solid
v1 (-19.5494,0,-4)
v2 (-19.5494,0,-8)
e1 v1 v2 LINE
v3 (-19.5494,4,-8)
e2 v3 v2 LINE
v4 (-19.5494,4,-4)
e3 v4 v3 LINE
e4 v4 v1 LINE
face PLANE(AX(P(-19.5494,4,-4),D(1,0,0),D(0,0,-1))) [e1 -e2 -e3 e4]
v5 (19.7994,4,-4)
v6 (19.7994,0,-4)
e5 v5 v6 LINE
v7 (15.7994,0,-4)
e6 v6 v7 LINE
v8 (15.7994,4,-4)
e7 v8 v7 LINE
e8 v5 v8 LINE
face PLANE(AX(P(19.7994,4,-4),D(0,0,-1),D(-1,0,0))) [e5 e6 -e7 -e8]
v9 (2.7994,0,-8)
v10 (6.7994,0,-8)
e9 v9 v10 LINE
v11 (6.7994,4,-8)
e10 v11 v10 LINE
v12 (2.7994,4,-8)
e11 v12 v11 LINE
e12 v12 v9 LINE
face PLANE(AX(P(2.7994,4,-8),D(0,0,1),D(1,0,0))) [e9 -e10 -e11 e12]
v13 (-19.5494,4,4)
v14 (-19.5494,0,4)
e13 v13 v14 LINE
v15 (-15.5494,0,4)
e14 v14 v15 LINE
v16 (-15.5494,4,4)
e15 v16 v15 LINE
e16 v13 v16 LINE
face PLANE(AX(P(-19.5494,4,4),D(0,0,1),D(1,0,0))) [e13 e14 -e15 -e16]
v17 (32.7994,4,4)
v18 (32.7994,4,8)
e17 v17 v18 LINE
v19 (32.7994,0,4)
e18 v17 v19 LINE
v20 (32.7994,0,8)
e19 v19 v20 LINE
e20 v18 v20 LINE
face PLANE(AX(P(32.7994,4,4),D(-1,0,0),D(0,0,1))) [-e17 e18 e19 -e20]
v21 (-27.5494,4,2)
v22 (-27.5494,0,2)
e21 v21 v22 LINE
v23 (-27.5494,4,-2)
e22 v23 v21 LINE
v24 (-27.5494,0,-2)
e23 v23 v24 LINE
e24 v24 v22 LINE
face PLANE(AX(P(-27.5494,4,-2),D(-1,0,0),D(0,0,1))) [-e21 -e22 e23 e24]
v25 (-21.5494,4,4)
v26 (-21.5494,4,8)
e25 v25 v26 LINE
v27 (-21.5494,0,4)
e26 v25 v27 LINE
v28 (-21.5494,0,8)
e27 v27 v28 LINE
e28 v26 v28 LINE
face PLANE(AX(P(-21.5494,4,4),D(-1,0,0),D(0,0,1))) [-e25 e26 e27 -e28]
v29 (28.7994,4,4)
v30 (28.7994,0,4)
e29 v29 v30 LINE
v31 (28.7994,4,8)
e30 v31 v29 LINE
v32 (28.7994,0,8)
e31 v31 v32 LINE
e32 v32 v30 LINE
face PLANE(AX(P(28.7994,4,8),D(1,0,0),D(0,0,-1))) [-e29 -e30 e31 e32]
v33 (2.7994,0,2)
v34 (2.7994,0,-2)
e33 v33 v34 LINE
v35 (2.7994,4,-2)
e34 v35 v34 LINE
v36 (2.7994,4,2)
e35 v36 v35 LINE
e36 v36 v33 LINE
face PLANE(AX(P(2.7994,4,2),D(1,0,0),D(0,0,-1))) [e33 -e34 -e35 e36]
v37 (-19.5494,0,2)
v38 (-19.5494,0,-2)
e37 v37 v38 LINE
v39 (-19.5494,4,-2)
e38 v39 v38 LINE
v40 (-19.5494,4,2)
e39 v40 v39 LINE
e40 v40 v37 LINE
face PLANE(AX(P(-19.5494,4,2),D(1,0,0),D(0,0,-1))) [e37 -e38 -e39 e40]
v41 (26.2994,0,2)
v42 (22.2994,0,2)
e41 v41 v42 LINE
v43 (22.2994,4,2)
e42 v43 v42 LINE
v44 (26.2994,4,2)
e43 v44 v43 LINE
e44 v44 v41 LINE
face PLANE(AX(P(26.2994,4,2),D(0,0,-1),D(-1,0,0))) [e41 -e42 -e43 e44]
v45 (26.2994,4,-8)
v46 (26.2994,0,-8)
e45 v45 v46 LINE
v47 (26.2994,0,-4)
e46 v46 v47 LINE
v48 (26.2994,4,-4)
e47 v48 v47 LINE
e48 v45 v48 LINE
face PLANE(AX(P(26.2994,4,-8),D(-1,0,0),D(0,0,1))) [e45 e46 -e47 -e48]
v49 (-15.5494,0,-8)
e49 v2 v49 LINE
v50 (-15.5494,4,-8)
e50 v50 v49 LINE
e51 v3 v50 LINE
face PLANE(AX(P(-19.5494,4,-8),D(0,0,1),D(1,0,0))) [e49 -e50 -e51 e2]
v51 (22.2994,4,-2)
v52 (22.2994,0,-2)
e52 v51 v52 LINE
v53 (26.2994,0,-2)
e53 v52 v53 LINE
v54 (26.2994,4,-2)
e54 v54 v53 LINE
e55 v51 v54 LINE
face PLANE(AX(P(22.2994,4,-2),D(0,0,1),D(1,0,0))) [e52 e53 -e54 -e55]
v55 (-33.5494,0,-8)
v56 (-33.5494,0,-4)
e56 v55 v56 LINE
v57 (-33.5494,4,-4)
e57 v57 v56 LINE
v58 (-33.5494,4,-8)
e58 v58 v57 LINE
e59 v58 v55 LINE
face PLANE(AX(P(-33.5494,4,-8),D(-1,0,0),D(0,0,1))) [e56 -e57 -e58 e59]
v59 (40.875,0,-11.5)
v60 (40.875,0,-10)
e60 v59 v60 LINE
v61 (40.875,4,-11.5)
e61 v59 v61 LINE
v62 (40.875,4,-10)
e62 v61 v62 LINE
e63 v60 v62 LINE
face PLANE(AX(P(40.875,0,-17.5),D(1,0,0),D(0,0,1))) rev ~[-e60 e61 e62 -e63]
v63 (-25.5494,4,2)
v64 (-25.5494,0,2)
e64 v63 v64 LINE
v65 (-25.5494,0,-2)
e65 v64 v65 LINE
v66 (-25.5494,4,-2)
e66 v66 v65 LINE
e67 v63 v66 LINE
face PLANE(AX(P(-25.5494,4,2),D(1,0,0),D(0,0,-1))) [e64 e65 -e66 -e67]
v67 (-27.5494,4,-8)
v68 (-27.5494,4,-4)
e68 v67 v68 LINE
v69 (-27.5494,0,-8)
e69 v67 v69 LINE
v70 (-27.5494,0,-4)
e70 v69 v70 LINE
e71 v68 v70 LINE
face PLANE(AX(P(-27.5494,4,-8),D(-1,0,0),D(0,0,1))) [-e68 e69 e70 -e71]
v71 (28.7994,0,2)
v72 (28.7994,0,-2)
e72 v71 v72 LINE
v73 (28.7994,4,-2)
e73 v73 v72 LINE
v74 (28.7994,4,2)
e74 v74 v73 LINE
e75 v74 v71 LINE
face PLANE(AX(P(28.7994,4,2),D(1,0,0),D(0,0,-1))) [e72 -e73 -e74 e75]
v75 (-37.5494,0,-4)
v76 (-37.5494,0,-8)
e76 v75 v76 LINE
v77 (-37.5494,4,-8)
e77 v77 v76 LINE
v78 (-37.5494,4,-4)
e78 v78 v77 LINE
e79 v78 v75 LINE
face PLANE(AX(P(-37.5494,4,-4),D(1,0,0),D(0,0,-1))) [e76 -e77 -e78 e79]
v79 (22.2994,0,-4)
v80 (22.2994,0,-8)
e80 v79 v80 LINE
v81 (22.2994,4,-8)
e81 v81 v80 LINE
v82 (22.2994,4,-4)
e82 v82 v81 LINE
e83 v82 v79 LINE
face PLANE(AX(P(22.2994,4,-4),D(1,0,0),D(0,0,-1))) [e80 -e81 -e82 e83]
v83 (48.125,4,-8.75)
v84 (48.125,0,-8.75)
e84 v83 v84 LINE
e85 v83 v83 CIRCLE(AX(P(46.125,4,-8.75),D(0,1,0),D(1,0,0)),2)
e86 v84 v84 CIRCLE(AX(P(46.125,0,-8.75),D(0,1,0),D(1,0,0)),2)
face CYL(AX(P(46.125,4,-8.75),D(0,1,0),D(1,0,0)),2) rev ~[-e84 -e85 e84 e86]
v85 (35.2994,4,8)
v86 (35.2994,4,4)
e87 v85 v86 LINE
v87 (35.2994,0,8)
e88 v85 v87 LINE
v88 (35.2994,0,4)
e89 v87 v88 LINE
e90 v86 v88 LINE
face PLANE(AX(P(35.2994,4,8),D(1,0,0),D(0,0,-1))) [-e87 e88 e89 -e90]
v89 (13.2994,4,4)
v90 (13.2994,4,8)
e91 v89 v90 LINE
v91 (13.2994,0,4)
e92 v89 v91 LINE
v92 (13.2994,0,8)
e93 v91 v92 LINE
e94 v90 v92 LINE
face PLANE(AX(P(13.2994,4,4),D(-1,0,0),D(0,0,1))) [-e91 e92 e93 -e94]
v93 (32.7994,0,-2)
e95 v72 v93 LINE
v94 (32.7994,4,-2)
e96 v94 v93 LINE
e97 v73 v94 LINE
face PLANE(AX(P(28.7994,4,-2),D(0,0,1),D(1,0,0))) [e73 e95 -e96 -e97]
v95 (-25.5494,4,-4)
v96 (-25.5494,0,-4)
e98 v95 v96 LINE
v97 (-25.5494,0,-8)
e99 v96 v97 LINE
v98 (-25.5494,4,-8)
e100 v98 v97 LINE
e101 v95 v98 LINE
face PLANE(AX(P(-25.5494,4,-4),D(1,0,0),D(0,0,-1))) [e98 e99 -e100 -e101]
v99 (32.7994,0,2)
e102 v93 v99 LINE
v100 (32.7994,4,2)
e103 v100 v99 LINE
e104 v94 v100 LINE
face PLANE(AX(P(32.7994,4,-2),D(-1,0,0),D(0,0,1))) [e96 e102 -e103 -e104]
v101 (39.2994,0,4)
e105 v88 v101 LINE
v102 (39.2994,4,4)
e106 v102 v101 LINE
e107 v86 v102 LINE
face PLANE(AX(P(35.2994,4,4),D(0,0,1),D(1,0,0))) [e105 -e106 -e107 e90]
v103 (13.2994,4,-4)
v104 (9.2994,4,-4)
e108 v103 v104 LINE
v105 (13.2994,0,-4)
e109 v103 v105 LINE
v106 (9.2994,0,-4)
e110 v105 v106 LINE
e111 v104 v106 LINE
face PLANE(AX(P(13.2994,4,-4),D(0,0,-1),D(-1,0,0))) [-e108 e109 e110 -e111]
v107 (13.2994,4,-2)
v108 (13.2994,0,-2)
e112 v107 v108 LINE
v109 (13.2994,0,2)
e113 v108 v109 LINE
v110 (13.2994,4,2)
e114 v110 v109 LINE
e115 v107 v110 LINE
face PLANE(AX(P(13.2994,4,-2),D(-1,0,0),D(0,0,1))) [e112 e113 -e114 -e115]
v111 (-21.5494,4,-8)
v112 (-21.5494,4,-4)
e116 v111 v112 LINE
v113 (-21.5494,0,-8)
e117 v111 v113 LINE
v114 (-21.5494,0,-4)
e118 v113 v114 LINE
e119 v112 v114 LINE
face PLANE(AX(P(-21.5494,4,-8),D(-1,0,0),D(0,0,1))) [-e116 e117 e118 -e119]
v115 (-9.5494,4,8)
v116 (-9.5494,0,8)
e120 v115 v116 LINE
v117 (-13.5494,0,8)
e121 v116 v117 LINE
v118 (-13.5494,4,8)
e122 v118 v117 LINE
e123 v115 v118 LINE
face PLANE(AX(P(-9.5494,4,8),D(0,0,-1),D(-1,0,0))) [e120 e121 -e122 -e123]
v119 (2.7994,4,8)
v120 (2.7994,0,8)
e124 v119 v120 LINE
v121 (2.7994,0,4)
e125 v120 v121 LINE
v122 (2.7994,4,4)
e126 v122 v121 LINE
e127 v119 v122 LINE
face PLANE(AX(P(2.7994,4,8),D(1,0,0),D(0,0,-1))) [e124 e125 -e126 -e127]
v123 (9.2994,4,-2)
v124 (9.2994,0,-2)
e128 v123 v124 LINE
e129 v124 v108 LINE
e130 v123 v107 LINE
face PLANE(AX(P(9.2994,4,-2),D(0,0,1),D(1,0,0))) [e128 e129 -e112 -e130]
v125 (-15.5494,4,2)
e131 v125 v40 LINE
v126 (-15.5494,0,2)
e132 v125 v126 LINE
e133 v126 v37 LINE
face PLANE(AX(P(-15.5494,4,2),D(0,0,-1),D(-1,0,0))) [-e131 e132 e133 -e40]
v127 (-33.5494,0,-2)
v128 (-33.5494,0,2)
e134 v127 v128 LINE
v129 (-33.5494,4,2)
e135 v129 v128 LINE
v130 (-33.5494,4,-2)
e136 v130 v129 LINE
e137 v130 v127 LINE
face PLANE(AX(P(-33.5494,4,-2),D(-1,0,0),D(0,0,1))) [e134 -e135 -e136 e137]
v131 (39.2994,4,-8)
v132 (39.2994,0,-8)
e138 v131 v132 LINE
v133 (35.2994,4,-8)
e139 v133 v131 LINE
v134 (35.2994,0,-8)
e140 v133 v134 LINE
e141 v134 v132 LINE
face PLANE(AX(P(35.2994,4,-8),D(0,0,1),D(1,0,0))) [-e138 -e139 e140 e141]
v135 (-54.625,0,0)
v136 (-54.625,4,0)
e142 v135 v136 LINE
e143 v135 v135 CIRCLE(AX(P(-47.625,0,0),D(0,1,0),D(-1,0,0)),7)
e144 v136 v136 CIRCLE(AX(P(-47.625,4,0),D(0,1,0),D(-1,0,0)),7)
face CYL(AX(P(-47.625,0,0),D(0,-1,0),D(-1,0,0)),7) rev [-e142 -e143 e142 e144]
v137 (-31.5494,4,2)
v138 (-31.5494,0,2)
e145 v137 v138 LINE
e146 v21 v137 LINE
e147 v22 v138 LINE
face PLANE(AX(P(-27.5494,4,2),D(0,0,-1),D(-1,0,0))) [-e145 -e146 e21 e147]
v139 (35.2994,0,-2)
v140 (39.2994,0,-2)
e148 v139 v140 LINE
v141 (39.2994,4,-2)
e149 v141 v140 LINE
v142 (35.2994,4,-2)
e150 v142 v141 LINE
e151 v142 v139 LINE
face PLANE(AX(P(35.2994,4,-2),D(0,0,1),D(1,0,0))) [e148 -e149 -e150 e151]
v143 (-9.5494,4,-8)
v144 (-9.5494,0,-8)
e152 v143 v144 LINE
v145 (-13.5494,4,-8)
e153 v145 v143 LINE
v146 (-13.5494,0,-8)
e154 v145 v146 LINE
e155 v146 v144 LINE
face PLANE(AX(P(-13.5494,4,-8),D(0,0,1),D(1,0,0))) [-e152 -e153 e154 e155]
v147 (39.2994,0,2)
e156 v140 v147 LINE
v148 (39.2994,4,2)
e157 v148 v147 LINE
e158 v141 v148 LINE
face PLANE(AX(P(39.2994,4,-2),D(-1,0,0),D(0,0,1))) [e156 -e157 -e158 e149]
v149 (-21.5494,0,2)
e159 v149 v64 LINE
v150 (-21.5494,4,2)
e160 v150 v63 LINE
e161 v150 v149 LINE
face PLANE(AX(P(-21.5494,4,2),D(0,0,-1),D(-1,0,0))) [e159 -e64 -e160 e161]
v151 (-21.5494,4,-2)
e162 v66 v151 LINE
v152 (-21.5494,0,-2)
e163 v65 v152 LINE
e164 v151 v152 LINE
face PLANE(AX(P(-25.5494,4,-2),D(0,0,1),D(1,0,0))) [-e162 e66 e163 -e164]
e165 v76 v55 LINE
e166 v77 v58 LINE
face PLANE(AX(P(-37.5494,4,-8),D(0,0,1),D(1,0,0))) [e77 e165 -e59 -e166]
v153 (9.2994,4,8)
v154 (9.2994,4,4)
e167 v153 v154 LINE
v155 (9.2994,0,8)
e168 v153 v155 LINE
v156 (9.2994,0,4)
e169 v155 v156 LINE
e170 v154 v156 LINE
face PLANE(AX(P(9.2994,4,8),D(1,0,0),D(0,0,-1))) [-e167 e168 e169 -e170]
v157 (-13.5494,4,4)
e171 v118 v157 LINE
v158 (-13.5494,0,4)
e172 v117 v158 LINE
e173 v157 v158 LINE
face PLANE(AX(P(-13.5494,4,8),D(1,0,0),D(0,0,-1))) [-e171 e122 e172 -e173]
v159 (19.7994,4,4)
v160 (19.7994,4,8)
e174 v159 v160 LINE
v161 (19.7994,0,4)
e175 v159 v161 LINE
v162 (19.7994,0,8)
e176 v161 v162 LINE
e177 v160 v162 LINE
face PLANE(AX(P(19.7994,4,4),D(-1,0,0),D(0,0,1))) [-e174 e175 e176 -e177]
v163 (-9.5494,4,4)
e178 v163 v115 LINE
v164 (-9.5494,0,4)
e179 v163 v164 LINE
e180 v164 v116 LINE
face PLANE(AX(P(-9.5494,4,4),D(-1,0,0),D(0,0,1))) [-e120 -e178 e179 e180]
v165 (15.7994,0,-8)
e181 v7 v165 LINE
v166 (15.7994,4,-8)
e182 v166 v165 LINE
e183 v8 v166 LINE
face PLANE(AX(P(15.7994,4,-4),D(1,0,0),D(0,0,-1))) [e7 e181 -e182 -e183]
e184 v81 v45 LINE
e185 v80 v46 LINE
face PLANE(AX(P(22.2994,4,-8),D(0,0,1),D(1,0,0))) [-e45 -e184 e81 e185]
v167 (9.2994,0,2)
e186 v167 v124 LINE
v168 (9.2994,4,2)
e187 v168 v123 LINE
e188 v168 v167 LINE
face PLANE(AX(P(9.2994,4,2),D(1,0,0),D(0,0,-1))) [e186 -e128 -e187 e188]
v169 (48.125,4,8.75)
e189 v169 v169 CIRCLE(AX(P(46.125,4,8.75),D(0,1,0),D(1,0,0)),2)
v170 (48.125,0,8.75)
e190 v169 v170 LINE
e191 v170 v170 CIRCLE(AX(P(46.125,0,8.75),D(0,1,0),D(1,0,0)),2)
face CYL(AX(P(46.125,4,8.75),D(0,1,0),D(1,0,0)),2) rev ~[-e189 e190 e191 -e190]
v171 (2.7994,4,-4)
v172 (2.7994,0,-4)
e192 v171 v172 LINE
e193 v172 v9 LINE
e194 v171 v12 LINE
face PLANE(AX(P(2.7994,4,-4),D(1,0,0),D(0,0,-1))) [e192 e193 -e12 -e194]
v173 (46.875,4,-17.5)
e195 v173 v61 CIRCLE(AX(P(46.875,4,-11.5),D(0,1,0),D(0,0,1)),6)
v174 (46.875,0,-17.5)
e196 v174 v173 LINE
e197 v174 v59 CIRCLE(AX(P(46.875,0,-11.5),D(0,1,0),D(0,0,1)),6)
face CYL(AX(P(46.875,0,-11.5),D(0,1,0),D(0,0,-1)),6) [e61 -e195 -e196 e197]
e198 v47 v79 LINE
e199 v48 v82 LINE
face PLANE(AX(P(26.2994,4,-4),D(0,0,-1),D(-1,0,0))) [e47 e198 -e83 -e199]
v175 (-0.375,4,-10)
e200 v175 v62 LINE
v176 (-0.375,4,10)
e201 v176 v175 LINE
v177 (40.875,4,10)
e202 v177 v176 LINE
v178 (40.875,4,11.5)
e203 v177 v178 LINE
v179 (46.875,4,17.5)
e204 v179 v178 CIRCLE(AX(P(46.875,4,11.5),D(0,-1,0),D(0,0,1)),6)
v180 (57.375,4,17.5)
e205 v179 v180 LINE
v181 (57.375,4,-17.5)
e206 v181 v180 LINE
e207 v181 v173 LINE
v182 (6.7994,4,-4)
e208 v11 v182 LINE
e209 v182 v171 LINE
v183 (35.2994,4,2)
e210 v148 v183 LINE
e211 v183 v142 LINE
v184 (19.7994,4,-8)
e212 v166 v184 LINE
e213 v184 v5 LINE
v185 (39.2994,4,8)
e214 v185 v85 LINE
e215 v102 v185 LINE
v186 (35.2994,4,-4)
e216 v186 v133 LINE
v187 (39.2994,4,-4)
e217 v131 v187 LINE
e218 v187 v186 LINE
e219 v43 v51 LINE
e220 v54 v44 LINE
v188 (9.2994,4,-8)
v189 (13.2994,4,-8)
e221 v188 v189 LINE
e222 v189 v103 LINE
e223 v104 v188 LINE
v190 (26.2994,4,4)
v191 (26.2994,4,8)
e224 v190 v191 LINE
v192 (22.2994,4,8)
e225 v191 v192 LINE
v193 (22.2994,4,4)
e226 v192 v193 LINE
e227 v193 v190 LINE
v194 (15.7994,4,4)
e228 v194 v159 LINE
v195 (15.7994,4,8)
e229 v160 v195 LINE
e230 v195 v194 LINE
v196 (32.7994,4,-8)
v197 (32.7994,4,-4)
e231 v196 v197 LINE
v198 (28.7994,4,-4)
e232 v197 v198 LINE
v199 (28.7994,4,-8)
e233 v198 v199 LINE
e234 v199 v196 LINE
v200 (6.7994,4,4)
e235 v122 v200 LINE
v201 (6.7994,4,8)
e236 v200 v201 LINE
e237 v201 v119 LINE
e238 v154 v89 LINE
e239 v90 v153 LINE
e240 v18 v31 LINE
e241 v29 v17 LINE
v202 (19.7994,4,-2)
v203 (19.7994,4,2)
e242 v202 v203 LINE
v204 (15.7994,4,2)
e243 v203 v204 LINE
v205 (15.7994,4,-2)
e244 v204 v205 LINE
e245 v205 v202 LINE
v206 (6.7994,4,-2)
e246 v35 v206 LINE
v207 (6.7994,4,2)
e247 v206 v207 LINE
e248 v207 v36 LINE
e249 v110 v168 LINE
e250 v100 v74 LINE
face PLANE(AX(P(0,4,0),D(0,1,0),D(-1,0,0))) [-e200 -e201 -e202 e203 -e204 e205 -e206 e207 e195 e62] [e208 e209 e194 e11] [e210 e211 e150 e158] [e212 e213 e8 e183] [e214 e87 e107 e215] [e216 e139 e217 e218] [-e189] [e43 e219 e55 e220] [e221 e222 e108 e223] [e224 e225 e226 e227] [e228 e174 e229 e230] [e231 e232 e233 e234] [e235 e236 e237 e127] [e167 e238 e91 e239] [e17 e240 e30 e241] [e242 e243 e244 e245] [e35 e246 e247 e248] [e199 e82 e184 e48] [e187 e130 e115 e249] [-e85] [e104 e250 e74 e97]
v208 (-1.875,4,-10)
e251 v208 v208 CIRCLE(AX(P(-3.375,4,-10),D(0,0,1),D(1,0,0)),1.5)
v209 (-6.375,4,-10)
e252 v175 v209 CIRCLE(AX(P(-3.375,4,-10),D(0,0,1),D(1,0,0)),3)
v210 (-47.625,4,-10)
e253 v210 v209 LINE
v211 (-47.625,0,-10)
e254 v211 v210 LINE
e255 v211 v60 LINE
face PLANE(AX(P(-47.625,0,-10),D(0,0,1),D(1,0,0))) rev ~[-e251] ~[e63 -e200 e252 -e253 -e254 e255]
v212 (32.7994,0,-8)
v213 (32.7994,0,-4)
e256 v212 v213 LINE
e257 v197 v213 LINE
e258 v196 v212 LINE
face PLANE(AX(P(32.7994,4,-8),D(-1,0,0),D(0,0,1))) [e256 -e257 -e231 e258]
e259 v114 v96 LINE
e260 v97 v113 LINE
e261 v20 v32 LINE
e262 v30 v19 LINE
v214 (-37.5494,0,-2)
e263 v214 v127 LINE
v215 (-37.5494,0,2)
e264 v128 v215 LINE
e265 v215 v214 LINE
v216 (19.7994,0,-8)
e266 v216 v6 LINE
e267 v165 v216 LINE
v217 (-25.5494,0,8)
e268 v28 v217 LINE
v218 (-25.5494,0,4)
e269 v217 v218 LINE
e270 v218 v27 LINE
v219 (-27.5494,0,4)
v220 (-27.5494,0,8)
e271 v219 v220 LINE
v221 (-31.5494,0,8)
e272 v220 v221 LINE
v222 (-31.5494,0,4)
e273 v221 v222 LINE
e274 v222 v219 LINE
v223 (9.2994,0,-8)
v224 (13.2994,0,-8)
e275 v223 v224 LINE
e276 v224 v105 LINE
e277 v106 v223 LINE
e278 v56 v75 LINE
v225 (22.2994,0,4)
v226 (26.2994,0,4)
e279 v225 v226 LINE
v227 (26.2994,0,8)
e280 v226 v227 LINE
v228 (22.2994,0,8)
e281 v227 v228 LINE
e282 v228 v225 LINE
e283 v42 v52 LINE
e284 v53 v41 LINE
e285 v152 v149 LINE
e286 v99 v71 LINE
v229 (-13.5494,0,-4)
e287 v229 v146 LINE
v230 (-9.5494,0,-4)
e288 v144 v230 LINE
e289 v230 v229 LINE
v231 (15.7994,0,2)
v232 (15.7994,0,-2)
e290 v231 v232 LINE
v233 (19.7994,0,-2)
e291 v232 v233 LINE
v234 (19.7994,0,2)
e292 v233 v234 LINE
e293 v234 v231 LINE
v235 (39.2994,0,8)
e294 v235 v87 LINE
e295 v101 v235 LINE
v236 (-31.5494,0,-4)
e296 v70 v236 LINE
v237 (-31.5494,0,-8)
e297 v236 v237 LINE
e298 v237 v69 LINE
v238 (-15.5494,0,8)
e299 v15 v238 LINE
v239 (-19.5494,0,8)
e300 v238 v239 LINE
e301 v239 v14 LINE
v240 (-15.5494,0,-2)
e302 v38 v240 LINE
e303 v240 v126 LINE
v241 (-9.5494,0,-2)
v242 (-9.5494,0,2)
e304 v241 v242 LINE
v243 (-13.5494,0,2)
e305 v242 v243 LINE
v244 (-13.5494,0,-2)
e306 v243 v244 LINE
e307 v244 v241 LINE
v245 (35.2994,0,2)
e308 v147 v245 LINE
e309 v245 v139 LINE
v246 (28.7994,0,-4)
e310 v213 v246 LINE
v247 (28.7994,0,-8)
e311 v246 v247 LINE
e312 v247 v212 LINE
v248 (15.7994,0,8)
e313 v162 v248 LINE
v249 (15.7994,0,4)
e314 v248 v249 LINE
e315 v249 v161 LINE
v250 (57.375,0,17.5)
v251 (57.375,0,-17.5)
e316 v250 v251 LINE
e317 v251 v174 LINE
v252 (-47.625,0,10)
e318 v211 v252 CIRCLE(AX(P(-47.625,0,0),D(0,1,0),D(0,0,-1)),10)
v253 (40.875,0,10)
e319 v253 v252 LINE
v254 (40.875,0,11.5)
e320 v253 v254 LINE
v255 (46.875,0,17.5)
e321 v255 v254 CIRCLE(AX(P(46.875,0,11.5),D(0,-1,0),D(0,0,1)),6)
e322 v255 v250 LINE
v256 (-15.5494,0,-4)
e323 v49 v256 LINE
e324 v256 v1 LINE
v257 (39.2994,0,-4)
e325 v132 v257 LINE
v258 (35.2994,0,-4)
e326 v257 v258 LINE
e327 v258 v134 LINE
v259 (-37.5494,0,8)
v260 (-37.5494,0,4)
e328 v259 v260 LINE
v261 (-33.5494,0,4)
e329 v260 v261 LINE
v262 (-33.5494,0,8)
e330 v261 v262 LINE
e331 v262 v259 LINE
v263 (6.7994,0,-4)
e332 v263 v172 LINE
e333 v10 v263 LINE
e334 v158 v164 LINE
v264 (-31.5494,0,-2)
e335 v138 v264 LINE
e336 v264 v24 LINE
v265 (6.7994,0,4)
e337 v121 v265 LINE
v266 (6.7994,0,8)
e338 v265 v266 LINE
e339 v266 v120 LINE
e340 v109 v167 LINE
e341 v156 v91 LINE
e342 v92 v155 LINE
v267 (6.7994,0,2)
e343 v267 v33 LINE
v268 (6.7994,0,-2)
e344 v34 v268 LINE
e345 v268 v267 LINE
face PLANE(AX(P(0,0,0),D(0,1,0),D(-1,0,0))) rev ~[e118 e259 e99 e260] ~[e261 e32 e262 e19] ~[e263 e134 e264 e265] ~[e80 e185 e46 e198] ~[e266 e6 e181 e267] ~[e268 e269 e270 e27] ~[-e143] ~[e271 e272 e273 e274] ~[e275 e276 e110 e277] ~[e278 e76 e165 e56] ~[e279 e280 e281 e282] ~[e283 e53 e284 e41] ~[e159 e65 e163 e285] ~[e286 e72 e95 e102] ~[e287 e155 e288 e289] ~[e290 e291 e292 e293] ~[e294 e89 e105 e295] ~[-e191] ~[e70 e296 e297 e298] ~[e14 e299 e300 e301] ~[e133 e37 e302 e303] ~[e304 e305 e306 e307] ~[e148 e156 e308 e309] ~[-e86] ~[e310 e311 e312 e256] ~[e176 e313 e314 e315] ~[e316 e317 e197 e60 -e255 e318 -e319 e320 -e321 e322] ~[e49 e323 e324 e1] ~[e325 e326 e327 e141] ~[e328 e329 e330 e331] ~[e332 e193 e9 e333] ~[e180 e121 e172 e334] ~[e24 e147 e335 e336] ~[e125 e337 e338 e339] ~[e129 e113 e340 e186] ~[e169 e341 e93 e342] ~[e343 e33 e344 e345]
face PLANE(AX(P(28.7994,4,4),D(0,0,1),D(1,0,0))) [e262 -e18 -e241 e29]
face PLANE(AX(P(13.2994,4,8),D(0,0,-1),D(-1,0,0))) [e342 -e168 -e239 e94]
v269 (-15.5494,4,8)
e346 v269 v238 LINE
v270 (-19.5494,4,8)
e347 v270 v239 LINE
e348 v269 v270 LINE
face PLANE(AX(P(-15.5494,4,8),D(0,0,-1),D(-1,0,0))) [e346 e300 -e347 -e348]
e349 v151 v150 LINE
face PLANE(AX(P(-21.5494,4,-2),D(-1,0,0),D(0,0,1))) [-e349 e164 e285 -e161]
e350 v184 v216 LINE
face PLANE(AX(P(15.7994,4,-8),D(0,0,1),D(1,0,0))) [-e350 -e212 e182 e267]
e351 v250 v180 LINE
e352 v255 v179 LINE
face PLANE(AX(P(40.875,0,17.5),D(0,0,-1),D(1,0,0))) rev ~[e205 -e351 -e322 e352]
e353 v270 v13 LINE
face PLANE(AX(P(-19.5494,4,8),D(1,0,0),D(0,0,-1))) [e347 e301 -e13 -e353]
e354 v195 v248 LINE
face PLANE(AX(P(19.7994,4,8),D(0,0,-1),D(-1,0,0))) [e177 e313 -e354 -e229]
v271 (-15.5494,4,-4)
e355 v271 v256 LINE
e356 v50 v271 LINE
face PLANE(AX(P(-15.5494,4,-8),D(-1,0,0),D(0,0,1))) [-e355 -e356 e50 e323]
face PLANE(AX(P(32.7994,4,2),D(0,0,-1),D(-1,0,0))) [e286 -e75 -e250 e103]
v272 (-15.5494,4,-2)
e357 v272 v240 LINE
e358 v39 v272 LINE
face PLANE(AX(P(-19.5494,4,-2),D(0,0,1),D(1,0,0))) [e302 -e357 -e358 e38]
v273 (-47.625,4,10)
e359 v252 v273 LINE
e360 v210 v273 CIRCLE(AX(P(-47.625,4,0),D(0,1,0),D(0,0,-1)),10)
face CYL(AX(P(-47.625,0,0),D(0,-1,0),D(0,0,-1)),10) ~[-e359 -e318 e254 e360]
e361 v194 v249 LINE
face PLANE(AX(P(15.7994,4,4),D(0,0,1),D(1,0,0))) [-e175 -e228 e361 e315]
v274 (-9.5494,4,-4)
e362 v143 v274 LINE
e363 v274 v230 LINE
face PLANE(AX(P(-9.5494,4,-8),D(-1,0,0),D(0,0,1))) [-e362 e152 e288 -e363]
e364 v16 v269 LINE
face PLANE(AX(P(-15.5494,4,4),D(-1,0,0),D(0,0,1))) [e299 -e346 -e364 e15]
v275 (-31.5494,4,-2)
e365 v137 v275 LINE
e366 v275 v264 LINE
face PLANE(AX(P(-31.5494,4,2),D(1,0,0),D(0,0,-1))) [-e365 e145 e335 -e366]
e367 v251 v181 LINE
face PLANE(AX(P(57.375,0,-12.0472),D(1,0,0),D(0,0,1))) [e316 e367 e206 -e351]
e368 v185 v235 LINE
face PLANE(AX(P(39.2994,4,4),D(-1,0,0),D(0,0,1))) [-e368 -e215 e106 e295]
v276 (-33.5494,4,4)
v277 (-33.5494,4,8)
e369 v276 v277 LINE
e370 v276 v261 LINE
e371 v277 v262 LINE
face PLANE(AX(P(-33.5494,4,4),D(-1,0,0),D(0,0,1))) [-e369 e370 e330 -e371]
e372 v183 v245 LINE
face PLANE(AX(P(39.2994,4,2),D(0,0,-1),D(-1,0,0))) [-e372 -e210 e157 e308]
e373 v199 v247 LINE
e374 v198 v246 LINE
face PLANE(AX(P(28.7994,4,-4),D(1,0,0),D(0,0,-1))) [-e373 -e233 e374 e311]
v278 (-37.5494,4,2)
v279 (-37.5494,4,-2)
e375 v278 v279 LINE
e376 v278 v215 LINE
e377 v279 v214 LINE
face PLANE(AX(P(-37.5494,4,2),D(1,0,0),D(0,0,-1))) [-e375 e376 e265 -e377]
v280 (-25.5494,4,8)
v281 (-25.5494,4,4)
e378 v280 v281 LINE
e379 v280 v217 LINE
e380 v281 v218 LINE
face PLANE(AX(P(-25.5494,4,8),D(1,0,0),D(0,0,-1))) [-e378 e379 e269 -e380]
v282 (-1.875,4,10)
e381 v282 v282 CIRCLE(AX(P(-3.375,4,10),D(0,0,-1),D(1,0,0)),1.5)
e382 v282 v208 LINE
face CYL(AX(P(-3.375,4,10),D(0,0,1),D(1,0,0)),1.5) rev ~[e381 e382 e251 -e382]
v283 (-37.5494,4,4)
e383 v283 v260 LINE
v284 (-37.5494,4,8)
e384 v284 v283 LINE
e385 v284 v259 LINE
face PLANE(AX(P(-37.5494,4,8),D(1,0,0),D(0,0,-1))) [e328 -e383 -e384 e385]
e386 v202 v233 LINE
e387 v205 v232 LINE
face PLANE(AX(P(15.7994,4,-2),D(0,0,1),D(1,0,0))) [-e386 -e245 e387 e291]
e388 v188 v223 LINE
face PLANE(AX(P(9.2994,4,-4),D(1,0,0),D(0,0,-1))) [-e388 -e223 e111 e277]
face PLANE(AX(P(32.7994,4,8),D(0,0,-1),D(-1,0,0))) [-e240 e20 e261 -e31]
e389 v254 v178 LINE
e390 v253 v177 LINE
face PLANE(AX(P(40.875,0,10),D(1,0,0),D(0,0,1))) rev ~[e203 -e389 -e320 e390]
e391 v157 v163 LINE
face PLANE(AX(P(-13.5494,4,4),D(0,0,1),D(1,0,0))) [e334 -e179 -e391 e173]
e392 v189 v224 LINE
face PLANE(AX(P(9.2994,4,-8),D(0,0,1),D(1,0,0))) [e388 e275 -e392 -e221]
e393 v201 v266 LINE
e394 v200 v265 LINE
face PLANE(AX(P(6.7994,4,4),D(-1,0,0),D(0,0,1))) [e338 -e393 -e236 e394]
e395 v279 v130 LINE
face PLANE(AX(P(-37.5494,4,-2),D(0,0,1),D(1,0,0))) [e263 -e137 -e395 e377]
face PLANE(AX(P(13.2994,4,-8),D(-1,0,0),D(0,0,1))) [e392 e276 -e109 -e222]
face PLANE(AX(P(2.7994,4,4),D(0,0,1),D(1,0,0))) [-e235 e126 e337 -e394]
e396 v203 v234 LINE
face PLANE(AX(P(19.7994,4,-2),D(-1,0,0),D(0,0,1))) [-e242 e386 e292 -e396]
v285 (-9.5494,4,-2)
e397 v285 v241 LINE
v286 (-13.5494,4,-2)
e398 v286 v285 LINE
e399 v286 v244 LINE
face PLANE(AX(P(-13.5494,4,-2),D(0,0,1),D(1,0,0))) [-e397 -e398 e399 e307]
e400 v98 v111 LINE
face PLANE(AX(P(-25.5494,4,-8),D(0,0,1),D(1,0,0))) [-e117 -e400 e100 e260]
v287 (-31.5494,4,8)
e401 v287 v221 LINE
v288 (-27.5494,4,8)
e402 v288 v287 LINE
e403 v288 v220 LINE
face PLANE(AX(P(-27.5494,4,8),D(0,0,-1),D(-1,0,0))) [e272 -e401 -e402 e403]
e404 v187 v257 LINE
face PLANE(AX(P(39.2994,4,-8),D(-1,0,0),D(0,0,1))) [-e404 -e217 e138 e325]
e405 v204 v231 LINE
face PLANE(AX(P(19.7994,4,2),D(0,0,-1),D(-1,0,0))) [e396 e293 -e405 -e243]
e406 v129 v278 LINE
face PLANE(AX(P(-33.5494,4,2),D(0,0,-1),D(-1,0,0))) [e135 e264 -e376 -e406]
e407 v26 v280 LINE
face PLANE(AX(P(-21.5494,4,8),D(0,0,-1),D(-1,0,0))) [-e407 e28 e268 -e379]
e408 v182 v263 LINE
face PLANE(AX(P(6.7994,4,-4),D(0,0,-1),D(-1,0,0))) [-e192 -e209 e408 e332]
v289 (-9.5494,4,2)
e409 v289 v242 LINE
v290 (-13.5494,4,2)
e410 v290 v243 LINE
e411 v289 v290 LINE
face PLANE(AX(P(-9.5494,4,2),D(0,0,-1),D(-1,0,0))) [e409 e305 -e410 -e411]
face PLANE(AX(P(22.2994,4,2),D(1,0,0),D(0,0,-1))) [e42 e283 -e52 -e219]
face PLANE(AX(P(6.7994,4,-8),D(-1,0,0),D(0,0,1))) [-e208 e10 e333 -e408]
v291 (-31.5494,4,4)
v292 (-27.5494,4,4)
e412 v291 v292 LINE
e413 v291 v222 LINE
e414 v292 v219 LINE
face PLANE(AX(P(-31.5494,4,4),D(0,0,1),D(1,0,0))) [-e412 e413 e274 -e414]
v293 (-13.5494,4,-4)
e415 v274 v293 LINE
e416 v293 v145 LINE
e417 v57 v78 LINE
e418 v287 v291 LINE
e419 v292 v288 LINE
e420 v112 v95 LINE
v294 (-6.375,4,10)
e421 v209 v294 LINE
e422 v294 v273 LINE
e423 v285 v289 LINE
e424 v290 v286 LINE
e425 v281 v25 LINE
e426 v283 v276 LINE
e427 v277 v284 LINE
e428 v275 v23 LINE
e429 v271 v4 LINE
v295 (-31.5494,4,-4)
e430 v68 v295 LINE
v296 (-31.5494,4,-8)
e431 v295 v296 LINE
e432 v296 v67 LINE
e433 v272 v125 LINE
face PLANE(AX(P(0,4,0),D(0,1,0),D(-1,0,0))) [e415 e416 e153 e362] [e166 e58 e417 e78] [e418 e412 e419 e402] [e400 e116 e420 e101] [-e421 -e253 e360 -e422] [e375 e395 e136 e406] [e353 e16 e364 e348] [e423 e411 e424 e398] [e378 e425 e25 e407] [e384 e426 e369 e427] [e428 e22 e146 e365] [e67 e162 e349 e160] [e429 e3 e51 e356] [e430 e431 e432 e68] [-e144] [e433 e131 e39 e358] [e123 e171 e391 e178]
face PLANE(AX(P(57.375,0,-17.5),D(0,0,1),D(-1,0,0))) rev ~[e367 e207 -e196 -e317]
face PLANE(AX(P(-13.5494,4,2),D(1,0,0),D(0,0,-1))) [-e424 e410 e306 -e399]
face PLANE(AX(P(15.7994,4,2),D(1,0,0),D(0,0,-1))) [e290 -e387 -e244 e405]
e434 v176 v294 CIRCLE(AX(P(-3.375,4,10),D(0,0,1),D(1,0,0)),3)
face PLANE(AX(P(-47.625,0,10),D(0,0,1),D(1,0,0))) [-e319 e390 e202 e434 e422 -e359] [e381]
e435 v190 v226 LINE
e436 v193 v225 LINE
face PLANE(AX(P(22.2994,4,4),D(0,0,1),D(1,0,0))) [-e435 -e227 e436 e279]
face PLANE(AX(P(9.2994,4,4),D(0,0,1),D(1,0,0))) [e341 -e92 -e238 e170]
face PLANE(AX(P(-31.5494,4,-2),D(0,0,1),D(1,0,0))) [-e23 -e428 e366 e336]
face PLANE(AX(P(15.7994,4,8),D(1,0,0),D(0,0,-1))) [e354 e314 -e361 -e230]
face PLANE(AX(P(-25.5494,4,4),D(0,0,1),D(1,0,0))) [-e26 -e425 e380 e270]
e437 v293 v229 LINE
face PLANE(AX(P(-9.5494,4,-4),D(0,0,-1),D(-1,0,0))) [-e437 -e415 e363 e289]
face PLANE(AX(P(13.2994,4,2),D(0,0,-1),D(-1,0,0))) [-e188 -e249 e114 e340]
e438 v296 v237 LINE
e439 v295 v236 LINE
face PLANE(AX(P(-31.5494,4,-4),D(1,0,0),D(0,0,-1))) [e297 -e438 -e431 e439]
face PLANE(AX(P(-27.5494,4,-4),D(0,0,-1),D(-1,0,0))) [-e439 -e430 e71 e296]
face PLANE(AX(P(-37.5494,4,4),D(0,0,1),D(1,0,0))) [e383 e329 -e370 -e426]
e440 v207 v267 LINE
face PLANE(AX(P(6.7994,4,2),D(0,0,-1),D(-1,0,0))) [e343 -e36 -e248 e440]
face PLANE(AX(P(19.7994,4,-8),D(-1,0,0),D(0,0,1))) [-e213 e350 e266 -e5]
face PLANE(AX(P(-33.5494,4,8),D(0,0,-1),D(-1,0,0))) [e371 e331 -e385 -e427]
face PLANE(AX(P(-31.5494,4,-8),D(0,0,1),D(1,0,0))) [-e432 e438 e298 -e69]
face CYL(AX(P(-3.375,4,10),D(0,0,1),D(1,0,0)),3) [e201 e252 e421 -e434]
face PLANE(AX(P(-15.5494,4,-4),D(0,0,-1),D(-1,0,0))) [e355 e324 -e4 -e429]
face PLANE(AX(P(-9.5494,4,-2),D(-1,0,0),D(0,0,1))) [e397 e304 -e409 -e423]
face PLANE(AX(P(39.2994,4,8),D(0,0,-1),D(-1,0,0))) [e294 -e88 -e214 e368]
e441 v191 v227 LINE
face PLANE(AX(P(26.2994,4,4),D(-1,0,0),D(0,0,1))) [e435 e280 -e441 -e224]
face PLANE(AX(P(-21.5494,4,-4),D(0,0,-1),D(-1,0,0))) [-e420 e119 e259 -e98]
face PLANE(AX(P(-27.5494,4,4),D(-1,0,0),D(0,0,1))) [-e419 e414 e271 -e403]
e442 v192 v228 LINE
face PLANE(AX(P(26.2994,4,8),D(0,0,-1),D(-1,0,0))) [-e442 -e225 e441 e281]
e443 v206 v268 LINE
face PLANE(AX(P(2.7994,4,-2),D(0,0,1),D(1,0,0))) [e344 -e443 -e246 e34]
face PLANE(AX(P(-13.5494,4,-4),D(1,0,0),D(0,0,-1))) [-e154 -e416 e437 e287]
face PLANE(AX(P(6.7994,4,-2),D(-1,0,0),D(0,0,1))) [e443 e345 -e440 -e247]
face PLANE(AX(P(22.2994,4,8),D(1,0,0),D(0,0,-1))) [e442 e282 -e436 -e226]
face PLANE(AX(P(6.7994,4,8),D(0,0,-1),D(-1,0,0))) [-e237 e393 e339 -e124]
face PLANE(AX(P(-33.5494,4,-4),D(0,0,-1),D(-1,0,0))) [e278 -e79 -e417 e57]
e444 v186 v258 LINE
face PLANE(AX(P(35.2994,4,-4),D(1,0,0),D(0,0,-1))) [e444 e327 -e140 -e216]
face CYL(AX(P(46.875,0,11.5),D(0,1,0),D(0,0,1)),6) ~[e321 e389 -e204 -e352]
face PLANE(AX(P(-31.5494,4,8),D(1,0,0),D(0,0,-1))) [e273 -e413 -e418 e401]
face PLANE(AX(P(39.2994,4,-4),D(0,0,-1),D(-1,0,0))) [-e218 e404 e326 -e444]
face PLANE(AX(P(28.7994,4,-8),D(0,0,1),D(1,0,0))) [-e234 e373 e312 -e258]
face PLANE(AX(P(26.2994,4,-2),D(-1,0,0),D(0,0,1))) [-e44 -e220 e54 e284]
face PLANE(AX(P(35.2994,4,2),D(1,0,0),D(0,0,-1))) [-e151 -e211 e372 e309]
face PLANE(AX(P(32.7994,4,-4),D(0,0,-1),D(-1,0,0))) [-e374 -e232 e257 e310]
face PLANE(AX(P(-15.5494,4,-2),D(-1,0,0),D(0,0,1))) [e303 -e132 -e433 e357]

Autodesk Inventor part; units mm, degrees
ref_plane "YZ Plane" through (0, 0, 0) normal (1, 0, 0) x (0, 1, 0)
ref_plane "XZ Plane" through (0, 0, 0) normal (0, 1, 0) x (-1, 0, 0)
ref_plane "XY Plane" through (0, 0, 0) normal (0, 0, 1) x (1, 0, 0)
sketch "Main Sketch" plane through (0, 0, 0) normal (0, 1, 0) x (-1, 0, 0)
  line L0 (-57.375, -12.0472) -> (-57.375, 12.0472)
  line L1 (-57.375, 12.0472) -> (47.625, -10) construction
  line L2 (47.625, 10) -> (-57.375, -12.0472) construction
  circle A0 centre (47.625, 0) radius 7
  arc A1 (47.625, -10) -> (47.625, 10) centre (47.625, 0) ccw
  line L3 (-40.875, 17.5) -> (-57.375, 17.5)
  line L4 (-57.375, 17.5) -> (-57.375, -17.5)
  line L5 (-57.375, -17.5) -> (-40.875, -17.5)
  line L6 (-40.875, 17.5) -> (-57.375, -17.5) construction
  line L7 (-57.375, 17.5) -> (-40.875, -17.5) construction
  line L8 (47.625, -10) -> (-40.875, -10)
  line L9 (-40.875, -17.5) -> (-40.875, -10)
  line L10 (-40.875, 10) -> (-40.875, 17.5)
  line L11 (-40.875, 10) -> (47.625, 10)
  point P0 (0, 0)
  point P1 (-49.125, 0)
  dimension "d3" = 14
  dimension "d4" = 105
  dimension "d13" = 16.5
  dimension "d14" = 35
  dimension "d15" = 0
  dimension "d18" = 20
extrude "Main Extrusion" add sketch "Main Sketch" along normal blind 4
sketch "Screw Holes Sketch" plane through (0, 4, 0) normal (0, 1, 0) x (1, 0, 0)
  circle A0 centre (46.125, -8.75) radius 2
  line L0 (57.375, 17.5) -> (40.875, 17.5) projected
  line L1 (40.875, -17.5) -> (57.375, -17.5) projected
  line L2 (35.2664, 0) -> (65.7891, 0)
  line L3 (51.375, -27.0398) -> (51.375, 30.2346) construction
  line L4 (57.375, -17.5) -> (57.375, 17.5) projected
  line L5 (40.875, -10) -> (40.875, -17.5) projected
  circle A1 centre (46.125, 8.75) radius 2
  line L6 (51.375, 27.0398) -> (51.375, -30.2346) construction
  point P0 (0, 0)
  dimension "d21" = 4
  dimension "d22" = 35
  dimension "d23" = 6
  dimension "d24" = 5.25
  dimension "d25" = 5.25
  dimension "d26" = 10.5
  dimension "d27" = 8.75
  dimension "d28" = 17.5
extrude "Screw Holes Cut" cut sketch "Screw Holes Sketch" against normal through all
fillet "Smoooooooooooooooooth" radius 6 2 edges at (40.875, 2, -17.5) (40.875, 2, 17.5)
sketch "Side Axel Hole Sketch" plane through (-47.625, 0, 10) normal (0, 0, 1) x (1, 0, 0)
  line L0 (88.5, 4) -> (88.5, 0) projected
  line L1 (0, 0) -> (0, 4) projected
  line L2 (44.25, -12.0383) -> (44.25, 22.7681) construction
  line L3 (88.5, 0) -> (0, 0) projected
  line L4 (0, 4) -> (88.5, 4) projected
  circle A0 centre (44.25, 4) radius 1.5
  point P0 (47.625, 0)
  dimension "d32" = 88.5
  dimension "d33" = 44.25
  dimension "d34" = 44.25
  dimension "d35" = 4
  dimension "d41" = 3
extrude "Side Axel Hole Cut" cut sketch "Side Axel Hole Sketch" against normal blind 20 contours A0 L4 | L4 A0
sketch "Side Hole Extension Sketch" plane through (-47.625, 0, 10) normal (0, 0, 1) x (1, 0, 0)
  arc A0 (42.75, 4) -> (45.75, 4) centre (44.25, 4) ccw projected
  circle A1 centre (44.25, 4) radius 3
  circle A2 centre (44.25, 4) radius 1.5
  point P0 (47.625, 0)
  dimension "d44" = 6
extrude "Extrusion7" add sketch "Side Hole Extension Sketch" against normal blind 20
sketch "Sketch7" plane through (0, 4, 0) normal (0, 1, 0) x (1, 0, 0)
  line L0 (-37.5494, 8) -> (-33.5494, 8)
  line L1 (-33.5494, 8) -> (-33.5494, 4)
  line L2 (-33.5494, 4) -> (-37.5494, 4)
  line L3 (-37.5494, 4) -> (-37.5494, 8)
  line L4 (-6.375, 10) -> (-47.625, 10) projected
  line L5 (-61.0525, 0) -> (64.9416, 0) construction
  line L6 (0, 19.4687) -> (0, -18.1059) construction
  line L7 (-47.5494, 9.1434) -> (-47.5494, -10.5737) construction
  line L8 (-37.5494, 2) -> (-33.5494, 2)
  line L9 (-33.5494, 2) -> (-33.5494, -2)
  line L10 (-33.5494, -2) -> (-37.5494, -2)
  line L11 (-37.5494, -2) -> (-37.5494, 2)
  line L12 (-37.5494, -4) -> (-33.5494, -4)
  line L13 (-33.5494, -4) -> (-33.5494, -8)
  line L14 (-33.5494, -8) -> (-37.5494, -8)
  line L15 (-37.5494, -8) -> (-37.5494, -4)
  line L16 (-31.5494, 8) -> (-27.5494, 8)
  line L17 (-27.5494, 8) -> (-27.5494, 4)
  line L18 (-27.5494, 4) -> (-31.5494, 4)
  line L19 (-31.5494, 4) -> (-31.5494, 8)
  line L20 (-31.5494, 2) -> (-27.5494, 2)
  line L21 (-27.5494, 2) -> (-27.5494, -2)
  line L22 (-27.5494, -2) -> (-31.5494, -2)
  line L23 (-31.5494, -2) -> (-31.5494, 2)
  line L24 (-31.5494, -4) -> (-27.5494, -4)
  line L25 (-27.5494, -4) -> (-27.5494, -8)
  line L26 (-27.5494, -8) -> (-31.5494, -8)
  line L27 (-31.5494, -8) -> (-31.5494, -4)
  line L28 (-25.5494, 8) -> (-21.5494, 8)
  line L29 (-21.5494, 8) -> (-21.5494, 4)
  line L30 (-21.5494, 4) -> (-25.5494, 4)
  line L31 (-25.5494, 4) -> (-25.5494, 8)
  line L32 (-25.5494, 2) -> (-21.5494, 2)
  line L33 (-21.5494, 2) -> (-21.5494, -2)
  line L34 (-21.5494, -2) -> (-25.5494, -2)
  line L35 (-25.5494, -2) -> (-25.5494, 2)
  line L36 (-25.5494, -4) -> (-21.5494, -4)
  line L37 (-21.5494, -4) -> (-21.5494, -8)
  line L38 (-21.5494, -8) -> (-25.5494, -8)
  line L39 (-25.5494, -8) -> (-25.5494, -4)
  line L40 (-19.5494, 8) -> (-15.5494, 8)
  line L41 (-15.5494, 8) -> (-15.5494, 4)
  line L42 (-15.5494, 4) -> (-19.5494, 4)
  line L43 (-19.5494, 4) -> (-19.5494, 8)
  line L44 (-19.5494, 2) -> (-15.5494, 2)
  line L45 (-15.5494, 2) -> (-15.5494, -2)
  line L46 (-15.5494, -2) -> (-19.5494, -2)
  line L47 (-19.5494, -2) -> (-19.5494, 2)
  line L48 (-19.5494, -4) -> (-15.5494, -4)
  line L49 (-15.5494, -4) -> (-15.5494, -8)
  line L50 (-15.5494, -8) -> (-19.5494, -8)
  line L51 (-19.5494, -8) -> (-19.5494, -4)
  line L52 (-13.5494, 8) -> (-9.5494, 8)
  line L53 (-9.5494, 8) -> (-9.5494, 4)
  line L54 (-9.5494, 4) -> (-13.5494, 4)
  line L55 (-13.5494, 4) -> (-13.5494, 8)
  line L56 (-13.5494, 2) -> (-9.5494, 2)
  line L57 (-9.5494, 2) -> (-9.5494, -2)
  line L58 (-9.5494, -2) -> (-13.5494, -2)
  line L59 (-13.5494, -2) -> (-13.5494, 2)
  line L60 (-13.5494, -4) -> (-9.5494, -4)
  line L61 (-9.5494, -4) -> (-9.5494, -8)
  line L62 (-9.5494, -8) -> (-13.5494, -8)
  line L63 (-13.5494, -8) -> (-13.5494, -4)
  line L64 (-47.625, -10) -> (-6.375, -10) projected
  line L65 (2.7994, 8) -> (6.7994, 8)
  line L66 (6.7994, 8) -> (6.7994, 4)
  line L67 (6.7994, 4) -> (2.7994, 4)
  line L68 (2.7994, 4) -> (2.7994, 8)
  line L69 (40.875, 10) -> (-0.375, 10) projected
  line L70 (-6.375, -10) -> (-6.375, 10) projected
  line L71 (-0.375, 10) -> (-0.375, -10) projected
  line L72 (6.7994, -2) -> (2.7994, -2)
  line L73 (2.7994, 2) -> (6.7994, 2)
  line L74 (6.7994, 2) -> (6.7994, -2)
  line L75 (2.7994, -2) -> (2.7994, 2)
  line L76 (0, 13.4687) -> (0, -24.1059) construction
  line L77 (6.7994, -8) -> (2.7994, -8)
  line L78 (2.7994, -4) -> (6.7994, -4)
  line L79 (6.7994, -4) -> (6.7994, -8)
  line L80 (2.7994, -8) -> (2.7994, -4)
  line L81 (0, 7.4687) -> (0, -30.1059) construction
  line L82 (13.2994, 4) -> (9.2994, 4)
  line L83 (9.2994, 8) -> (13.2994, 8)
  line L84 (13.2994, 8) -> (13.2994, 4)
  line L85 (9.2994, 4) -> (9.2994, 8)
  line L86 (6.5, 19.4687) -> (6.5, -18.1059) construction
  line L87 (13.2994, -2) -> (9.2994, -2)
  line L88 (9.2994, 2) -> (13.2994, 2)
  line L89 (13.2994, 2) -> (13.2994, -2)
  line L90 (9.2994, -2) -> (9.2994, 2)
  line L91 (6.5, 13.4687) -> (6.5, -24.1059) construction
  line L92 (13.2994, -8) -> (9.2994, -8)
  line L93 (9.2994, -4) -> (13.2994, -4)
  line L94 (13.2994, -4) -> (13.2994, -8)
  line L95 (9.2994, -8) -> (9.2994, -4)
  line L96 (6.5, 7.4687) -> (6.5, -30.1059) construction
  line L97 (19.7994, 4) -> (15.7994, 4)
  line L98 (15.7994, 8) -> (19.7994, 8)
  line L99 (19.7994, 8) -> (19.7994, 4)
  line L100 (15.7994, 4) -> (15.7994, 8)
  line L101 (13, 19.4687) -> (13, -18.1059) construction
  line L102 (19.7994, -2) -> (15.7994, -2)
  line L103 (15.7994, 2) -> (19.7994, 2)
  line L104 (19.7994, 2) -> (19.7994, -2)
  line L105 (15.7994, -2) -> (15.7994, 2)
  line L106 (13, 13.4687) -> (13, -24.1059) construction
  line L107 (19.7994, -8) -> (15.7994, -8)
  line L108 (15.7994, -4) -> (19.7994, -4)
  line L109 (19.7994, -4) -> (19.7994, -8)
  line L110 (15.7994, -8) -> (15.7994, -4)
  line L111 (13, 7.4687) -> (13, -30.1059) construction
  line L112 (26.2994, 4) -> (22.2994, 4)
  line L113 (22.2994, 8) -> (26.2994, 8)
  line L114 (26.2994, 8) -> (26.2994, 4)
  line L115 (22.2994, 4) -> (22.2994, 8)
  line L116 (19.5, 19.4687) -> (19.5, -18.1059) construction
  line L117 (26.2994, -2) -> (22.2994, -2)
  line L118 (22.2994, 2) -> (26.2994, 2)
  line L119 (26.2994, 2) -> (26.2994, -2)
  line L120 (22.2994, -2) -> (22.2994, 2)
  line L121 (19.5, 13.4687) -> (19.5, -24.1059) construction
  line L122 (26.2994, -8) -> (22.2994, -8)
  line L123 (22.2994, -4) -> (26.2994, -4)
  line L124 (26.2994, -4) -> (26.2994, -8)
  line L125 (22.2994, -8) -> (22.2994, -4)
  line L126 (19.5, 7.4687) -> (19.5, -30.1059) construction
  line L127 (32.7994, 4) -> (28.7994, 4)
  line L128 (28.7994, 8) -> (32.7994, 8)
  line L129 (32.7994, 8) -> (32.7994, 4)
  line L130 (28.7994, 4) -> (28.7994, 8)
  line L131 (26, 19.4687) -> (26, -18.1059) construction
  line L132 (32.7994, -2) -> (28.7994, -2)
  line L133 (28.7994, 2) -> (32.7994, 2)
  line L134 (32.7994, 2) -> (32.7994, -2)
  line L135 (28.7994, -2) -> (28.7994, 2)
  line L136 (26, 13.4687) -> (26, -24.1059) construction
  line L137 (32.7994, -8) -> (28.7994, -8)
  line L138 (28.7994, -4) -> (32.7994, -4)
  line L139 (32.7994, -4) -> (32.7994, -8)
  line L140 (28.7994, -8) -> (28.7994, -4)
  line L141 (26, 7.4687) -> (26, -30.1059) construction
  line L142 (39.2994, 4) -> (35.2994, 4)
  line L143 (35.2994, 8) -> (39.2994, 8)
  line L144 (39.2994, 8) -> (39.2994, 4)
  line L145 (35.2994, 4) -> (35.2994, 8)
  line L146 (32.5, 19.4687) -> (32.5, -18.1059) construction
  line L147 (39.2994, -2) -> (35.2994, -2)
  line L148 (35.2994, 2) -> (39.2994, 2)
  line L149 (39.2994, 2) -> (39.2994, -2)
  line L150 (35.2994, -2) -> (35.2994, 2)
  line L151 (32.5, 13.4687) -> (32.5, -24.1059) construction
  line L152 (39.2994, -8) -> (35.2994, -8)
  line L153 (35.2994, -4) -> (39.2994, -4)
  line L154 (39.2994, -4) -> (39.2994, -8)
  line L155 (35.2994, -8) -> (35.2994, -4)
  line L156 (32.5, 7.4687) -> (32.5, -30.1059) construction
  point P0 (0, 0)
  point P1 (-47.625, 0)
  dimension "d47" = 4
  dimension "d48" = 4
  dimension "d49" = 2
  dimension "d52" = 10
  dimension "d55" = 6
  dimension "d58" = 6
  dimension "d61" = 2
  dimension "d62" = 4
  dimension "d63" = 4
  dimension "d64" = 2
  dimension "d65" = 3.1744
  dimension "d66" = 3.1744
  dimension "d69" = 6
  dimension "d72" = 6.5
extrude "Extrusion8" cut sketch "Sketch7" against normal through all
properties part number "Side V2"
